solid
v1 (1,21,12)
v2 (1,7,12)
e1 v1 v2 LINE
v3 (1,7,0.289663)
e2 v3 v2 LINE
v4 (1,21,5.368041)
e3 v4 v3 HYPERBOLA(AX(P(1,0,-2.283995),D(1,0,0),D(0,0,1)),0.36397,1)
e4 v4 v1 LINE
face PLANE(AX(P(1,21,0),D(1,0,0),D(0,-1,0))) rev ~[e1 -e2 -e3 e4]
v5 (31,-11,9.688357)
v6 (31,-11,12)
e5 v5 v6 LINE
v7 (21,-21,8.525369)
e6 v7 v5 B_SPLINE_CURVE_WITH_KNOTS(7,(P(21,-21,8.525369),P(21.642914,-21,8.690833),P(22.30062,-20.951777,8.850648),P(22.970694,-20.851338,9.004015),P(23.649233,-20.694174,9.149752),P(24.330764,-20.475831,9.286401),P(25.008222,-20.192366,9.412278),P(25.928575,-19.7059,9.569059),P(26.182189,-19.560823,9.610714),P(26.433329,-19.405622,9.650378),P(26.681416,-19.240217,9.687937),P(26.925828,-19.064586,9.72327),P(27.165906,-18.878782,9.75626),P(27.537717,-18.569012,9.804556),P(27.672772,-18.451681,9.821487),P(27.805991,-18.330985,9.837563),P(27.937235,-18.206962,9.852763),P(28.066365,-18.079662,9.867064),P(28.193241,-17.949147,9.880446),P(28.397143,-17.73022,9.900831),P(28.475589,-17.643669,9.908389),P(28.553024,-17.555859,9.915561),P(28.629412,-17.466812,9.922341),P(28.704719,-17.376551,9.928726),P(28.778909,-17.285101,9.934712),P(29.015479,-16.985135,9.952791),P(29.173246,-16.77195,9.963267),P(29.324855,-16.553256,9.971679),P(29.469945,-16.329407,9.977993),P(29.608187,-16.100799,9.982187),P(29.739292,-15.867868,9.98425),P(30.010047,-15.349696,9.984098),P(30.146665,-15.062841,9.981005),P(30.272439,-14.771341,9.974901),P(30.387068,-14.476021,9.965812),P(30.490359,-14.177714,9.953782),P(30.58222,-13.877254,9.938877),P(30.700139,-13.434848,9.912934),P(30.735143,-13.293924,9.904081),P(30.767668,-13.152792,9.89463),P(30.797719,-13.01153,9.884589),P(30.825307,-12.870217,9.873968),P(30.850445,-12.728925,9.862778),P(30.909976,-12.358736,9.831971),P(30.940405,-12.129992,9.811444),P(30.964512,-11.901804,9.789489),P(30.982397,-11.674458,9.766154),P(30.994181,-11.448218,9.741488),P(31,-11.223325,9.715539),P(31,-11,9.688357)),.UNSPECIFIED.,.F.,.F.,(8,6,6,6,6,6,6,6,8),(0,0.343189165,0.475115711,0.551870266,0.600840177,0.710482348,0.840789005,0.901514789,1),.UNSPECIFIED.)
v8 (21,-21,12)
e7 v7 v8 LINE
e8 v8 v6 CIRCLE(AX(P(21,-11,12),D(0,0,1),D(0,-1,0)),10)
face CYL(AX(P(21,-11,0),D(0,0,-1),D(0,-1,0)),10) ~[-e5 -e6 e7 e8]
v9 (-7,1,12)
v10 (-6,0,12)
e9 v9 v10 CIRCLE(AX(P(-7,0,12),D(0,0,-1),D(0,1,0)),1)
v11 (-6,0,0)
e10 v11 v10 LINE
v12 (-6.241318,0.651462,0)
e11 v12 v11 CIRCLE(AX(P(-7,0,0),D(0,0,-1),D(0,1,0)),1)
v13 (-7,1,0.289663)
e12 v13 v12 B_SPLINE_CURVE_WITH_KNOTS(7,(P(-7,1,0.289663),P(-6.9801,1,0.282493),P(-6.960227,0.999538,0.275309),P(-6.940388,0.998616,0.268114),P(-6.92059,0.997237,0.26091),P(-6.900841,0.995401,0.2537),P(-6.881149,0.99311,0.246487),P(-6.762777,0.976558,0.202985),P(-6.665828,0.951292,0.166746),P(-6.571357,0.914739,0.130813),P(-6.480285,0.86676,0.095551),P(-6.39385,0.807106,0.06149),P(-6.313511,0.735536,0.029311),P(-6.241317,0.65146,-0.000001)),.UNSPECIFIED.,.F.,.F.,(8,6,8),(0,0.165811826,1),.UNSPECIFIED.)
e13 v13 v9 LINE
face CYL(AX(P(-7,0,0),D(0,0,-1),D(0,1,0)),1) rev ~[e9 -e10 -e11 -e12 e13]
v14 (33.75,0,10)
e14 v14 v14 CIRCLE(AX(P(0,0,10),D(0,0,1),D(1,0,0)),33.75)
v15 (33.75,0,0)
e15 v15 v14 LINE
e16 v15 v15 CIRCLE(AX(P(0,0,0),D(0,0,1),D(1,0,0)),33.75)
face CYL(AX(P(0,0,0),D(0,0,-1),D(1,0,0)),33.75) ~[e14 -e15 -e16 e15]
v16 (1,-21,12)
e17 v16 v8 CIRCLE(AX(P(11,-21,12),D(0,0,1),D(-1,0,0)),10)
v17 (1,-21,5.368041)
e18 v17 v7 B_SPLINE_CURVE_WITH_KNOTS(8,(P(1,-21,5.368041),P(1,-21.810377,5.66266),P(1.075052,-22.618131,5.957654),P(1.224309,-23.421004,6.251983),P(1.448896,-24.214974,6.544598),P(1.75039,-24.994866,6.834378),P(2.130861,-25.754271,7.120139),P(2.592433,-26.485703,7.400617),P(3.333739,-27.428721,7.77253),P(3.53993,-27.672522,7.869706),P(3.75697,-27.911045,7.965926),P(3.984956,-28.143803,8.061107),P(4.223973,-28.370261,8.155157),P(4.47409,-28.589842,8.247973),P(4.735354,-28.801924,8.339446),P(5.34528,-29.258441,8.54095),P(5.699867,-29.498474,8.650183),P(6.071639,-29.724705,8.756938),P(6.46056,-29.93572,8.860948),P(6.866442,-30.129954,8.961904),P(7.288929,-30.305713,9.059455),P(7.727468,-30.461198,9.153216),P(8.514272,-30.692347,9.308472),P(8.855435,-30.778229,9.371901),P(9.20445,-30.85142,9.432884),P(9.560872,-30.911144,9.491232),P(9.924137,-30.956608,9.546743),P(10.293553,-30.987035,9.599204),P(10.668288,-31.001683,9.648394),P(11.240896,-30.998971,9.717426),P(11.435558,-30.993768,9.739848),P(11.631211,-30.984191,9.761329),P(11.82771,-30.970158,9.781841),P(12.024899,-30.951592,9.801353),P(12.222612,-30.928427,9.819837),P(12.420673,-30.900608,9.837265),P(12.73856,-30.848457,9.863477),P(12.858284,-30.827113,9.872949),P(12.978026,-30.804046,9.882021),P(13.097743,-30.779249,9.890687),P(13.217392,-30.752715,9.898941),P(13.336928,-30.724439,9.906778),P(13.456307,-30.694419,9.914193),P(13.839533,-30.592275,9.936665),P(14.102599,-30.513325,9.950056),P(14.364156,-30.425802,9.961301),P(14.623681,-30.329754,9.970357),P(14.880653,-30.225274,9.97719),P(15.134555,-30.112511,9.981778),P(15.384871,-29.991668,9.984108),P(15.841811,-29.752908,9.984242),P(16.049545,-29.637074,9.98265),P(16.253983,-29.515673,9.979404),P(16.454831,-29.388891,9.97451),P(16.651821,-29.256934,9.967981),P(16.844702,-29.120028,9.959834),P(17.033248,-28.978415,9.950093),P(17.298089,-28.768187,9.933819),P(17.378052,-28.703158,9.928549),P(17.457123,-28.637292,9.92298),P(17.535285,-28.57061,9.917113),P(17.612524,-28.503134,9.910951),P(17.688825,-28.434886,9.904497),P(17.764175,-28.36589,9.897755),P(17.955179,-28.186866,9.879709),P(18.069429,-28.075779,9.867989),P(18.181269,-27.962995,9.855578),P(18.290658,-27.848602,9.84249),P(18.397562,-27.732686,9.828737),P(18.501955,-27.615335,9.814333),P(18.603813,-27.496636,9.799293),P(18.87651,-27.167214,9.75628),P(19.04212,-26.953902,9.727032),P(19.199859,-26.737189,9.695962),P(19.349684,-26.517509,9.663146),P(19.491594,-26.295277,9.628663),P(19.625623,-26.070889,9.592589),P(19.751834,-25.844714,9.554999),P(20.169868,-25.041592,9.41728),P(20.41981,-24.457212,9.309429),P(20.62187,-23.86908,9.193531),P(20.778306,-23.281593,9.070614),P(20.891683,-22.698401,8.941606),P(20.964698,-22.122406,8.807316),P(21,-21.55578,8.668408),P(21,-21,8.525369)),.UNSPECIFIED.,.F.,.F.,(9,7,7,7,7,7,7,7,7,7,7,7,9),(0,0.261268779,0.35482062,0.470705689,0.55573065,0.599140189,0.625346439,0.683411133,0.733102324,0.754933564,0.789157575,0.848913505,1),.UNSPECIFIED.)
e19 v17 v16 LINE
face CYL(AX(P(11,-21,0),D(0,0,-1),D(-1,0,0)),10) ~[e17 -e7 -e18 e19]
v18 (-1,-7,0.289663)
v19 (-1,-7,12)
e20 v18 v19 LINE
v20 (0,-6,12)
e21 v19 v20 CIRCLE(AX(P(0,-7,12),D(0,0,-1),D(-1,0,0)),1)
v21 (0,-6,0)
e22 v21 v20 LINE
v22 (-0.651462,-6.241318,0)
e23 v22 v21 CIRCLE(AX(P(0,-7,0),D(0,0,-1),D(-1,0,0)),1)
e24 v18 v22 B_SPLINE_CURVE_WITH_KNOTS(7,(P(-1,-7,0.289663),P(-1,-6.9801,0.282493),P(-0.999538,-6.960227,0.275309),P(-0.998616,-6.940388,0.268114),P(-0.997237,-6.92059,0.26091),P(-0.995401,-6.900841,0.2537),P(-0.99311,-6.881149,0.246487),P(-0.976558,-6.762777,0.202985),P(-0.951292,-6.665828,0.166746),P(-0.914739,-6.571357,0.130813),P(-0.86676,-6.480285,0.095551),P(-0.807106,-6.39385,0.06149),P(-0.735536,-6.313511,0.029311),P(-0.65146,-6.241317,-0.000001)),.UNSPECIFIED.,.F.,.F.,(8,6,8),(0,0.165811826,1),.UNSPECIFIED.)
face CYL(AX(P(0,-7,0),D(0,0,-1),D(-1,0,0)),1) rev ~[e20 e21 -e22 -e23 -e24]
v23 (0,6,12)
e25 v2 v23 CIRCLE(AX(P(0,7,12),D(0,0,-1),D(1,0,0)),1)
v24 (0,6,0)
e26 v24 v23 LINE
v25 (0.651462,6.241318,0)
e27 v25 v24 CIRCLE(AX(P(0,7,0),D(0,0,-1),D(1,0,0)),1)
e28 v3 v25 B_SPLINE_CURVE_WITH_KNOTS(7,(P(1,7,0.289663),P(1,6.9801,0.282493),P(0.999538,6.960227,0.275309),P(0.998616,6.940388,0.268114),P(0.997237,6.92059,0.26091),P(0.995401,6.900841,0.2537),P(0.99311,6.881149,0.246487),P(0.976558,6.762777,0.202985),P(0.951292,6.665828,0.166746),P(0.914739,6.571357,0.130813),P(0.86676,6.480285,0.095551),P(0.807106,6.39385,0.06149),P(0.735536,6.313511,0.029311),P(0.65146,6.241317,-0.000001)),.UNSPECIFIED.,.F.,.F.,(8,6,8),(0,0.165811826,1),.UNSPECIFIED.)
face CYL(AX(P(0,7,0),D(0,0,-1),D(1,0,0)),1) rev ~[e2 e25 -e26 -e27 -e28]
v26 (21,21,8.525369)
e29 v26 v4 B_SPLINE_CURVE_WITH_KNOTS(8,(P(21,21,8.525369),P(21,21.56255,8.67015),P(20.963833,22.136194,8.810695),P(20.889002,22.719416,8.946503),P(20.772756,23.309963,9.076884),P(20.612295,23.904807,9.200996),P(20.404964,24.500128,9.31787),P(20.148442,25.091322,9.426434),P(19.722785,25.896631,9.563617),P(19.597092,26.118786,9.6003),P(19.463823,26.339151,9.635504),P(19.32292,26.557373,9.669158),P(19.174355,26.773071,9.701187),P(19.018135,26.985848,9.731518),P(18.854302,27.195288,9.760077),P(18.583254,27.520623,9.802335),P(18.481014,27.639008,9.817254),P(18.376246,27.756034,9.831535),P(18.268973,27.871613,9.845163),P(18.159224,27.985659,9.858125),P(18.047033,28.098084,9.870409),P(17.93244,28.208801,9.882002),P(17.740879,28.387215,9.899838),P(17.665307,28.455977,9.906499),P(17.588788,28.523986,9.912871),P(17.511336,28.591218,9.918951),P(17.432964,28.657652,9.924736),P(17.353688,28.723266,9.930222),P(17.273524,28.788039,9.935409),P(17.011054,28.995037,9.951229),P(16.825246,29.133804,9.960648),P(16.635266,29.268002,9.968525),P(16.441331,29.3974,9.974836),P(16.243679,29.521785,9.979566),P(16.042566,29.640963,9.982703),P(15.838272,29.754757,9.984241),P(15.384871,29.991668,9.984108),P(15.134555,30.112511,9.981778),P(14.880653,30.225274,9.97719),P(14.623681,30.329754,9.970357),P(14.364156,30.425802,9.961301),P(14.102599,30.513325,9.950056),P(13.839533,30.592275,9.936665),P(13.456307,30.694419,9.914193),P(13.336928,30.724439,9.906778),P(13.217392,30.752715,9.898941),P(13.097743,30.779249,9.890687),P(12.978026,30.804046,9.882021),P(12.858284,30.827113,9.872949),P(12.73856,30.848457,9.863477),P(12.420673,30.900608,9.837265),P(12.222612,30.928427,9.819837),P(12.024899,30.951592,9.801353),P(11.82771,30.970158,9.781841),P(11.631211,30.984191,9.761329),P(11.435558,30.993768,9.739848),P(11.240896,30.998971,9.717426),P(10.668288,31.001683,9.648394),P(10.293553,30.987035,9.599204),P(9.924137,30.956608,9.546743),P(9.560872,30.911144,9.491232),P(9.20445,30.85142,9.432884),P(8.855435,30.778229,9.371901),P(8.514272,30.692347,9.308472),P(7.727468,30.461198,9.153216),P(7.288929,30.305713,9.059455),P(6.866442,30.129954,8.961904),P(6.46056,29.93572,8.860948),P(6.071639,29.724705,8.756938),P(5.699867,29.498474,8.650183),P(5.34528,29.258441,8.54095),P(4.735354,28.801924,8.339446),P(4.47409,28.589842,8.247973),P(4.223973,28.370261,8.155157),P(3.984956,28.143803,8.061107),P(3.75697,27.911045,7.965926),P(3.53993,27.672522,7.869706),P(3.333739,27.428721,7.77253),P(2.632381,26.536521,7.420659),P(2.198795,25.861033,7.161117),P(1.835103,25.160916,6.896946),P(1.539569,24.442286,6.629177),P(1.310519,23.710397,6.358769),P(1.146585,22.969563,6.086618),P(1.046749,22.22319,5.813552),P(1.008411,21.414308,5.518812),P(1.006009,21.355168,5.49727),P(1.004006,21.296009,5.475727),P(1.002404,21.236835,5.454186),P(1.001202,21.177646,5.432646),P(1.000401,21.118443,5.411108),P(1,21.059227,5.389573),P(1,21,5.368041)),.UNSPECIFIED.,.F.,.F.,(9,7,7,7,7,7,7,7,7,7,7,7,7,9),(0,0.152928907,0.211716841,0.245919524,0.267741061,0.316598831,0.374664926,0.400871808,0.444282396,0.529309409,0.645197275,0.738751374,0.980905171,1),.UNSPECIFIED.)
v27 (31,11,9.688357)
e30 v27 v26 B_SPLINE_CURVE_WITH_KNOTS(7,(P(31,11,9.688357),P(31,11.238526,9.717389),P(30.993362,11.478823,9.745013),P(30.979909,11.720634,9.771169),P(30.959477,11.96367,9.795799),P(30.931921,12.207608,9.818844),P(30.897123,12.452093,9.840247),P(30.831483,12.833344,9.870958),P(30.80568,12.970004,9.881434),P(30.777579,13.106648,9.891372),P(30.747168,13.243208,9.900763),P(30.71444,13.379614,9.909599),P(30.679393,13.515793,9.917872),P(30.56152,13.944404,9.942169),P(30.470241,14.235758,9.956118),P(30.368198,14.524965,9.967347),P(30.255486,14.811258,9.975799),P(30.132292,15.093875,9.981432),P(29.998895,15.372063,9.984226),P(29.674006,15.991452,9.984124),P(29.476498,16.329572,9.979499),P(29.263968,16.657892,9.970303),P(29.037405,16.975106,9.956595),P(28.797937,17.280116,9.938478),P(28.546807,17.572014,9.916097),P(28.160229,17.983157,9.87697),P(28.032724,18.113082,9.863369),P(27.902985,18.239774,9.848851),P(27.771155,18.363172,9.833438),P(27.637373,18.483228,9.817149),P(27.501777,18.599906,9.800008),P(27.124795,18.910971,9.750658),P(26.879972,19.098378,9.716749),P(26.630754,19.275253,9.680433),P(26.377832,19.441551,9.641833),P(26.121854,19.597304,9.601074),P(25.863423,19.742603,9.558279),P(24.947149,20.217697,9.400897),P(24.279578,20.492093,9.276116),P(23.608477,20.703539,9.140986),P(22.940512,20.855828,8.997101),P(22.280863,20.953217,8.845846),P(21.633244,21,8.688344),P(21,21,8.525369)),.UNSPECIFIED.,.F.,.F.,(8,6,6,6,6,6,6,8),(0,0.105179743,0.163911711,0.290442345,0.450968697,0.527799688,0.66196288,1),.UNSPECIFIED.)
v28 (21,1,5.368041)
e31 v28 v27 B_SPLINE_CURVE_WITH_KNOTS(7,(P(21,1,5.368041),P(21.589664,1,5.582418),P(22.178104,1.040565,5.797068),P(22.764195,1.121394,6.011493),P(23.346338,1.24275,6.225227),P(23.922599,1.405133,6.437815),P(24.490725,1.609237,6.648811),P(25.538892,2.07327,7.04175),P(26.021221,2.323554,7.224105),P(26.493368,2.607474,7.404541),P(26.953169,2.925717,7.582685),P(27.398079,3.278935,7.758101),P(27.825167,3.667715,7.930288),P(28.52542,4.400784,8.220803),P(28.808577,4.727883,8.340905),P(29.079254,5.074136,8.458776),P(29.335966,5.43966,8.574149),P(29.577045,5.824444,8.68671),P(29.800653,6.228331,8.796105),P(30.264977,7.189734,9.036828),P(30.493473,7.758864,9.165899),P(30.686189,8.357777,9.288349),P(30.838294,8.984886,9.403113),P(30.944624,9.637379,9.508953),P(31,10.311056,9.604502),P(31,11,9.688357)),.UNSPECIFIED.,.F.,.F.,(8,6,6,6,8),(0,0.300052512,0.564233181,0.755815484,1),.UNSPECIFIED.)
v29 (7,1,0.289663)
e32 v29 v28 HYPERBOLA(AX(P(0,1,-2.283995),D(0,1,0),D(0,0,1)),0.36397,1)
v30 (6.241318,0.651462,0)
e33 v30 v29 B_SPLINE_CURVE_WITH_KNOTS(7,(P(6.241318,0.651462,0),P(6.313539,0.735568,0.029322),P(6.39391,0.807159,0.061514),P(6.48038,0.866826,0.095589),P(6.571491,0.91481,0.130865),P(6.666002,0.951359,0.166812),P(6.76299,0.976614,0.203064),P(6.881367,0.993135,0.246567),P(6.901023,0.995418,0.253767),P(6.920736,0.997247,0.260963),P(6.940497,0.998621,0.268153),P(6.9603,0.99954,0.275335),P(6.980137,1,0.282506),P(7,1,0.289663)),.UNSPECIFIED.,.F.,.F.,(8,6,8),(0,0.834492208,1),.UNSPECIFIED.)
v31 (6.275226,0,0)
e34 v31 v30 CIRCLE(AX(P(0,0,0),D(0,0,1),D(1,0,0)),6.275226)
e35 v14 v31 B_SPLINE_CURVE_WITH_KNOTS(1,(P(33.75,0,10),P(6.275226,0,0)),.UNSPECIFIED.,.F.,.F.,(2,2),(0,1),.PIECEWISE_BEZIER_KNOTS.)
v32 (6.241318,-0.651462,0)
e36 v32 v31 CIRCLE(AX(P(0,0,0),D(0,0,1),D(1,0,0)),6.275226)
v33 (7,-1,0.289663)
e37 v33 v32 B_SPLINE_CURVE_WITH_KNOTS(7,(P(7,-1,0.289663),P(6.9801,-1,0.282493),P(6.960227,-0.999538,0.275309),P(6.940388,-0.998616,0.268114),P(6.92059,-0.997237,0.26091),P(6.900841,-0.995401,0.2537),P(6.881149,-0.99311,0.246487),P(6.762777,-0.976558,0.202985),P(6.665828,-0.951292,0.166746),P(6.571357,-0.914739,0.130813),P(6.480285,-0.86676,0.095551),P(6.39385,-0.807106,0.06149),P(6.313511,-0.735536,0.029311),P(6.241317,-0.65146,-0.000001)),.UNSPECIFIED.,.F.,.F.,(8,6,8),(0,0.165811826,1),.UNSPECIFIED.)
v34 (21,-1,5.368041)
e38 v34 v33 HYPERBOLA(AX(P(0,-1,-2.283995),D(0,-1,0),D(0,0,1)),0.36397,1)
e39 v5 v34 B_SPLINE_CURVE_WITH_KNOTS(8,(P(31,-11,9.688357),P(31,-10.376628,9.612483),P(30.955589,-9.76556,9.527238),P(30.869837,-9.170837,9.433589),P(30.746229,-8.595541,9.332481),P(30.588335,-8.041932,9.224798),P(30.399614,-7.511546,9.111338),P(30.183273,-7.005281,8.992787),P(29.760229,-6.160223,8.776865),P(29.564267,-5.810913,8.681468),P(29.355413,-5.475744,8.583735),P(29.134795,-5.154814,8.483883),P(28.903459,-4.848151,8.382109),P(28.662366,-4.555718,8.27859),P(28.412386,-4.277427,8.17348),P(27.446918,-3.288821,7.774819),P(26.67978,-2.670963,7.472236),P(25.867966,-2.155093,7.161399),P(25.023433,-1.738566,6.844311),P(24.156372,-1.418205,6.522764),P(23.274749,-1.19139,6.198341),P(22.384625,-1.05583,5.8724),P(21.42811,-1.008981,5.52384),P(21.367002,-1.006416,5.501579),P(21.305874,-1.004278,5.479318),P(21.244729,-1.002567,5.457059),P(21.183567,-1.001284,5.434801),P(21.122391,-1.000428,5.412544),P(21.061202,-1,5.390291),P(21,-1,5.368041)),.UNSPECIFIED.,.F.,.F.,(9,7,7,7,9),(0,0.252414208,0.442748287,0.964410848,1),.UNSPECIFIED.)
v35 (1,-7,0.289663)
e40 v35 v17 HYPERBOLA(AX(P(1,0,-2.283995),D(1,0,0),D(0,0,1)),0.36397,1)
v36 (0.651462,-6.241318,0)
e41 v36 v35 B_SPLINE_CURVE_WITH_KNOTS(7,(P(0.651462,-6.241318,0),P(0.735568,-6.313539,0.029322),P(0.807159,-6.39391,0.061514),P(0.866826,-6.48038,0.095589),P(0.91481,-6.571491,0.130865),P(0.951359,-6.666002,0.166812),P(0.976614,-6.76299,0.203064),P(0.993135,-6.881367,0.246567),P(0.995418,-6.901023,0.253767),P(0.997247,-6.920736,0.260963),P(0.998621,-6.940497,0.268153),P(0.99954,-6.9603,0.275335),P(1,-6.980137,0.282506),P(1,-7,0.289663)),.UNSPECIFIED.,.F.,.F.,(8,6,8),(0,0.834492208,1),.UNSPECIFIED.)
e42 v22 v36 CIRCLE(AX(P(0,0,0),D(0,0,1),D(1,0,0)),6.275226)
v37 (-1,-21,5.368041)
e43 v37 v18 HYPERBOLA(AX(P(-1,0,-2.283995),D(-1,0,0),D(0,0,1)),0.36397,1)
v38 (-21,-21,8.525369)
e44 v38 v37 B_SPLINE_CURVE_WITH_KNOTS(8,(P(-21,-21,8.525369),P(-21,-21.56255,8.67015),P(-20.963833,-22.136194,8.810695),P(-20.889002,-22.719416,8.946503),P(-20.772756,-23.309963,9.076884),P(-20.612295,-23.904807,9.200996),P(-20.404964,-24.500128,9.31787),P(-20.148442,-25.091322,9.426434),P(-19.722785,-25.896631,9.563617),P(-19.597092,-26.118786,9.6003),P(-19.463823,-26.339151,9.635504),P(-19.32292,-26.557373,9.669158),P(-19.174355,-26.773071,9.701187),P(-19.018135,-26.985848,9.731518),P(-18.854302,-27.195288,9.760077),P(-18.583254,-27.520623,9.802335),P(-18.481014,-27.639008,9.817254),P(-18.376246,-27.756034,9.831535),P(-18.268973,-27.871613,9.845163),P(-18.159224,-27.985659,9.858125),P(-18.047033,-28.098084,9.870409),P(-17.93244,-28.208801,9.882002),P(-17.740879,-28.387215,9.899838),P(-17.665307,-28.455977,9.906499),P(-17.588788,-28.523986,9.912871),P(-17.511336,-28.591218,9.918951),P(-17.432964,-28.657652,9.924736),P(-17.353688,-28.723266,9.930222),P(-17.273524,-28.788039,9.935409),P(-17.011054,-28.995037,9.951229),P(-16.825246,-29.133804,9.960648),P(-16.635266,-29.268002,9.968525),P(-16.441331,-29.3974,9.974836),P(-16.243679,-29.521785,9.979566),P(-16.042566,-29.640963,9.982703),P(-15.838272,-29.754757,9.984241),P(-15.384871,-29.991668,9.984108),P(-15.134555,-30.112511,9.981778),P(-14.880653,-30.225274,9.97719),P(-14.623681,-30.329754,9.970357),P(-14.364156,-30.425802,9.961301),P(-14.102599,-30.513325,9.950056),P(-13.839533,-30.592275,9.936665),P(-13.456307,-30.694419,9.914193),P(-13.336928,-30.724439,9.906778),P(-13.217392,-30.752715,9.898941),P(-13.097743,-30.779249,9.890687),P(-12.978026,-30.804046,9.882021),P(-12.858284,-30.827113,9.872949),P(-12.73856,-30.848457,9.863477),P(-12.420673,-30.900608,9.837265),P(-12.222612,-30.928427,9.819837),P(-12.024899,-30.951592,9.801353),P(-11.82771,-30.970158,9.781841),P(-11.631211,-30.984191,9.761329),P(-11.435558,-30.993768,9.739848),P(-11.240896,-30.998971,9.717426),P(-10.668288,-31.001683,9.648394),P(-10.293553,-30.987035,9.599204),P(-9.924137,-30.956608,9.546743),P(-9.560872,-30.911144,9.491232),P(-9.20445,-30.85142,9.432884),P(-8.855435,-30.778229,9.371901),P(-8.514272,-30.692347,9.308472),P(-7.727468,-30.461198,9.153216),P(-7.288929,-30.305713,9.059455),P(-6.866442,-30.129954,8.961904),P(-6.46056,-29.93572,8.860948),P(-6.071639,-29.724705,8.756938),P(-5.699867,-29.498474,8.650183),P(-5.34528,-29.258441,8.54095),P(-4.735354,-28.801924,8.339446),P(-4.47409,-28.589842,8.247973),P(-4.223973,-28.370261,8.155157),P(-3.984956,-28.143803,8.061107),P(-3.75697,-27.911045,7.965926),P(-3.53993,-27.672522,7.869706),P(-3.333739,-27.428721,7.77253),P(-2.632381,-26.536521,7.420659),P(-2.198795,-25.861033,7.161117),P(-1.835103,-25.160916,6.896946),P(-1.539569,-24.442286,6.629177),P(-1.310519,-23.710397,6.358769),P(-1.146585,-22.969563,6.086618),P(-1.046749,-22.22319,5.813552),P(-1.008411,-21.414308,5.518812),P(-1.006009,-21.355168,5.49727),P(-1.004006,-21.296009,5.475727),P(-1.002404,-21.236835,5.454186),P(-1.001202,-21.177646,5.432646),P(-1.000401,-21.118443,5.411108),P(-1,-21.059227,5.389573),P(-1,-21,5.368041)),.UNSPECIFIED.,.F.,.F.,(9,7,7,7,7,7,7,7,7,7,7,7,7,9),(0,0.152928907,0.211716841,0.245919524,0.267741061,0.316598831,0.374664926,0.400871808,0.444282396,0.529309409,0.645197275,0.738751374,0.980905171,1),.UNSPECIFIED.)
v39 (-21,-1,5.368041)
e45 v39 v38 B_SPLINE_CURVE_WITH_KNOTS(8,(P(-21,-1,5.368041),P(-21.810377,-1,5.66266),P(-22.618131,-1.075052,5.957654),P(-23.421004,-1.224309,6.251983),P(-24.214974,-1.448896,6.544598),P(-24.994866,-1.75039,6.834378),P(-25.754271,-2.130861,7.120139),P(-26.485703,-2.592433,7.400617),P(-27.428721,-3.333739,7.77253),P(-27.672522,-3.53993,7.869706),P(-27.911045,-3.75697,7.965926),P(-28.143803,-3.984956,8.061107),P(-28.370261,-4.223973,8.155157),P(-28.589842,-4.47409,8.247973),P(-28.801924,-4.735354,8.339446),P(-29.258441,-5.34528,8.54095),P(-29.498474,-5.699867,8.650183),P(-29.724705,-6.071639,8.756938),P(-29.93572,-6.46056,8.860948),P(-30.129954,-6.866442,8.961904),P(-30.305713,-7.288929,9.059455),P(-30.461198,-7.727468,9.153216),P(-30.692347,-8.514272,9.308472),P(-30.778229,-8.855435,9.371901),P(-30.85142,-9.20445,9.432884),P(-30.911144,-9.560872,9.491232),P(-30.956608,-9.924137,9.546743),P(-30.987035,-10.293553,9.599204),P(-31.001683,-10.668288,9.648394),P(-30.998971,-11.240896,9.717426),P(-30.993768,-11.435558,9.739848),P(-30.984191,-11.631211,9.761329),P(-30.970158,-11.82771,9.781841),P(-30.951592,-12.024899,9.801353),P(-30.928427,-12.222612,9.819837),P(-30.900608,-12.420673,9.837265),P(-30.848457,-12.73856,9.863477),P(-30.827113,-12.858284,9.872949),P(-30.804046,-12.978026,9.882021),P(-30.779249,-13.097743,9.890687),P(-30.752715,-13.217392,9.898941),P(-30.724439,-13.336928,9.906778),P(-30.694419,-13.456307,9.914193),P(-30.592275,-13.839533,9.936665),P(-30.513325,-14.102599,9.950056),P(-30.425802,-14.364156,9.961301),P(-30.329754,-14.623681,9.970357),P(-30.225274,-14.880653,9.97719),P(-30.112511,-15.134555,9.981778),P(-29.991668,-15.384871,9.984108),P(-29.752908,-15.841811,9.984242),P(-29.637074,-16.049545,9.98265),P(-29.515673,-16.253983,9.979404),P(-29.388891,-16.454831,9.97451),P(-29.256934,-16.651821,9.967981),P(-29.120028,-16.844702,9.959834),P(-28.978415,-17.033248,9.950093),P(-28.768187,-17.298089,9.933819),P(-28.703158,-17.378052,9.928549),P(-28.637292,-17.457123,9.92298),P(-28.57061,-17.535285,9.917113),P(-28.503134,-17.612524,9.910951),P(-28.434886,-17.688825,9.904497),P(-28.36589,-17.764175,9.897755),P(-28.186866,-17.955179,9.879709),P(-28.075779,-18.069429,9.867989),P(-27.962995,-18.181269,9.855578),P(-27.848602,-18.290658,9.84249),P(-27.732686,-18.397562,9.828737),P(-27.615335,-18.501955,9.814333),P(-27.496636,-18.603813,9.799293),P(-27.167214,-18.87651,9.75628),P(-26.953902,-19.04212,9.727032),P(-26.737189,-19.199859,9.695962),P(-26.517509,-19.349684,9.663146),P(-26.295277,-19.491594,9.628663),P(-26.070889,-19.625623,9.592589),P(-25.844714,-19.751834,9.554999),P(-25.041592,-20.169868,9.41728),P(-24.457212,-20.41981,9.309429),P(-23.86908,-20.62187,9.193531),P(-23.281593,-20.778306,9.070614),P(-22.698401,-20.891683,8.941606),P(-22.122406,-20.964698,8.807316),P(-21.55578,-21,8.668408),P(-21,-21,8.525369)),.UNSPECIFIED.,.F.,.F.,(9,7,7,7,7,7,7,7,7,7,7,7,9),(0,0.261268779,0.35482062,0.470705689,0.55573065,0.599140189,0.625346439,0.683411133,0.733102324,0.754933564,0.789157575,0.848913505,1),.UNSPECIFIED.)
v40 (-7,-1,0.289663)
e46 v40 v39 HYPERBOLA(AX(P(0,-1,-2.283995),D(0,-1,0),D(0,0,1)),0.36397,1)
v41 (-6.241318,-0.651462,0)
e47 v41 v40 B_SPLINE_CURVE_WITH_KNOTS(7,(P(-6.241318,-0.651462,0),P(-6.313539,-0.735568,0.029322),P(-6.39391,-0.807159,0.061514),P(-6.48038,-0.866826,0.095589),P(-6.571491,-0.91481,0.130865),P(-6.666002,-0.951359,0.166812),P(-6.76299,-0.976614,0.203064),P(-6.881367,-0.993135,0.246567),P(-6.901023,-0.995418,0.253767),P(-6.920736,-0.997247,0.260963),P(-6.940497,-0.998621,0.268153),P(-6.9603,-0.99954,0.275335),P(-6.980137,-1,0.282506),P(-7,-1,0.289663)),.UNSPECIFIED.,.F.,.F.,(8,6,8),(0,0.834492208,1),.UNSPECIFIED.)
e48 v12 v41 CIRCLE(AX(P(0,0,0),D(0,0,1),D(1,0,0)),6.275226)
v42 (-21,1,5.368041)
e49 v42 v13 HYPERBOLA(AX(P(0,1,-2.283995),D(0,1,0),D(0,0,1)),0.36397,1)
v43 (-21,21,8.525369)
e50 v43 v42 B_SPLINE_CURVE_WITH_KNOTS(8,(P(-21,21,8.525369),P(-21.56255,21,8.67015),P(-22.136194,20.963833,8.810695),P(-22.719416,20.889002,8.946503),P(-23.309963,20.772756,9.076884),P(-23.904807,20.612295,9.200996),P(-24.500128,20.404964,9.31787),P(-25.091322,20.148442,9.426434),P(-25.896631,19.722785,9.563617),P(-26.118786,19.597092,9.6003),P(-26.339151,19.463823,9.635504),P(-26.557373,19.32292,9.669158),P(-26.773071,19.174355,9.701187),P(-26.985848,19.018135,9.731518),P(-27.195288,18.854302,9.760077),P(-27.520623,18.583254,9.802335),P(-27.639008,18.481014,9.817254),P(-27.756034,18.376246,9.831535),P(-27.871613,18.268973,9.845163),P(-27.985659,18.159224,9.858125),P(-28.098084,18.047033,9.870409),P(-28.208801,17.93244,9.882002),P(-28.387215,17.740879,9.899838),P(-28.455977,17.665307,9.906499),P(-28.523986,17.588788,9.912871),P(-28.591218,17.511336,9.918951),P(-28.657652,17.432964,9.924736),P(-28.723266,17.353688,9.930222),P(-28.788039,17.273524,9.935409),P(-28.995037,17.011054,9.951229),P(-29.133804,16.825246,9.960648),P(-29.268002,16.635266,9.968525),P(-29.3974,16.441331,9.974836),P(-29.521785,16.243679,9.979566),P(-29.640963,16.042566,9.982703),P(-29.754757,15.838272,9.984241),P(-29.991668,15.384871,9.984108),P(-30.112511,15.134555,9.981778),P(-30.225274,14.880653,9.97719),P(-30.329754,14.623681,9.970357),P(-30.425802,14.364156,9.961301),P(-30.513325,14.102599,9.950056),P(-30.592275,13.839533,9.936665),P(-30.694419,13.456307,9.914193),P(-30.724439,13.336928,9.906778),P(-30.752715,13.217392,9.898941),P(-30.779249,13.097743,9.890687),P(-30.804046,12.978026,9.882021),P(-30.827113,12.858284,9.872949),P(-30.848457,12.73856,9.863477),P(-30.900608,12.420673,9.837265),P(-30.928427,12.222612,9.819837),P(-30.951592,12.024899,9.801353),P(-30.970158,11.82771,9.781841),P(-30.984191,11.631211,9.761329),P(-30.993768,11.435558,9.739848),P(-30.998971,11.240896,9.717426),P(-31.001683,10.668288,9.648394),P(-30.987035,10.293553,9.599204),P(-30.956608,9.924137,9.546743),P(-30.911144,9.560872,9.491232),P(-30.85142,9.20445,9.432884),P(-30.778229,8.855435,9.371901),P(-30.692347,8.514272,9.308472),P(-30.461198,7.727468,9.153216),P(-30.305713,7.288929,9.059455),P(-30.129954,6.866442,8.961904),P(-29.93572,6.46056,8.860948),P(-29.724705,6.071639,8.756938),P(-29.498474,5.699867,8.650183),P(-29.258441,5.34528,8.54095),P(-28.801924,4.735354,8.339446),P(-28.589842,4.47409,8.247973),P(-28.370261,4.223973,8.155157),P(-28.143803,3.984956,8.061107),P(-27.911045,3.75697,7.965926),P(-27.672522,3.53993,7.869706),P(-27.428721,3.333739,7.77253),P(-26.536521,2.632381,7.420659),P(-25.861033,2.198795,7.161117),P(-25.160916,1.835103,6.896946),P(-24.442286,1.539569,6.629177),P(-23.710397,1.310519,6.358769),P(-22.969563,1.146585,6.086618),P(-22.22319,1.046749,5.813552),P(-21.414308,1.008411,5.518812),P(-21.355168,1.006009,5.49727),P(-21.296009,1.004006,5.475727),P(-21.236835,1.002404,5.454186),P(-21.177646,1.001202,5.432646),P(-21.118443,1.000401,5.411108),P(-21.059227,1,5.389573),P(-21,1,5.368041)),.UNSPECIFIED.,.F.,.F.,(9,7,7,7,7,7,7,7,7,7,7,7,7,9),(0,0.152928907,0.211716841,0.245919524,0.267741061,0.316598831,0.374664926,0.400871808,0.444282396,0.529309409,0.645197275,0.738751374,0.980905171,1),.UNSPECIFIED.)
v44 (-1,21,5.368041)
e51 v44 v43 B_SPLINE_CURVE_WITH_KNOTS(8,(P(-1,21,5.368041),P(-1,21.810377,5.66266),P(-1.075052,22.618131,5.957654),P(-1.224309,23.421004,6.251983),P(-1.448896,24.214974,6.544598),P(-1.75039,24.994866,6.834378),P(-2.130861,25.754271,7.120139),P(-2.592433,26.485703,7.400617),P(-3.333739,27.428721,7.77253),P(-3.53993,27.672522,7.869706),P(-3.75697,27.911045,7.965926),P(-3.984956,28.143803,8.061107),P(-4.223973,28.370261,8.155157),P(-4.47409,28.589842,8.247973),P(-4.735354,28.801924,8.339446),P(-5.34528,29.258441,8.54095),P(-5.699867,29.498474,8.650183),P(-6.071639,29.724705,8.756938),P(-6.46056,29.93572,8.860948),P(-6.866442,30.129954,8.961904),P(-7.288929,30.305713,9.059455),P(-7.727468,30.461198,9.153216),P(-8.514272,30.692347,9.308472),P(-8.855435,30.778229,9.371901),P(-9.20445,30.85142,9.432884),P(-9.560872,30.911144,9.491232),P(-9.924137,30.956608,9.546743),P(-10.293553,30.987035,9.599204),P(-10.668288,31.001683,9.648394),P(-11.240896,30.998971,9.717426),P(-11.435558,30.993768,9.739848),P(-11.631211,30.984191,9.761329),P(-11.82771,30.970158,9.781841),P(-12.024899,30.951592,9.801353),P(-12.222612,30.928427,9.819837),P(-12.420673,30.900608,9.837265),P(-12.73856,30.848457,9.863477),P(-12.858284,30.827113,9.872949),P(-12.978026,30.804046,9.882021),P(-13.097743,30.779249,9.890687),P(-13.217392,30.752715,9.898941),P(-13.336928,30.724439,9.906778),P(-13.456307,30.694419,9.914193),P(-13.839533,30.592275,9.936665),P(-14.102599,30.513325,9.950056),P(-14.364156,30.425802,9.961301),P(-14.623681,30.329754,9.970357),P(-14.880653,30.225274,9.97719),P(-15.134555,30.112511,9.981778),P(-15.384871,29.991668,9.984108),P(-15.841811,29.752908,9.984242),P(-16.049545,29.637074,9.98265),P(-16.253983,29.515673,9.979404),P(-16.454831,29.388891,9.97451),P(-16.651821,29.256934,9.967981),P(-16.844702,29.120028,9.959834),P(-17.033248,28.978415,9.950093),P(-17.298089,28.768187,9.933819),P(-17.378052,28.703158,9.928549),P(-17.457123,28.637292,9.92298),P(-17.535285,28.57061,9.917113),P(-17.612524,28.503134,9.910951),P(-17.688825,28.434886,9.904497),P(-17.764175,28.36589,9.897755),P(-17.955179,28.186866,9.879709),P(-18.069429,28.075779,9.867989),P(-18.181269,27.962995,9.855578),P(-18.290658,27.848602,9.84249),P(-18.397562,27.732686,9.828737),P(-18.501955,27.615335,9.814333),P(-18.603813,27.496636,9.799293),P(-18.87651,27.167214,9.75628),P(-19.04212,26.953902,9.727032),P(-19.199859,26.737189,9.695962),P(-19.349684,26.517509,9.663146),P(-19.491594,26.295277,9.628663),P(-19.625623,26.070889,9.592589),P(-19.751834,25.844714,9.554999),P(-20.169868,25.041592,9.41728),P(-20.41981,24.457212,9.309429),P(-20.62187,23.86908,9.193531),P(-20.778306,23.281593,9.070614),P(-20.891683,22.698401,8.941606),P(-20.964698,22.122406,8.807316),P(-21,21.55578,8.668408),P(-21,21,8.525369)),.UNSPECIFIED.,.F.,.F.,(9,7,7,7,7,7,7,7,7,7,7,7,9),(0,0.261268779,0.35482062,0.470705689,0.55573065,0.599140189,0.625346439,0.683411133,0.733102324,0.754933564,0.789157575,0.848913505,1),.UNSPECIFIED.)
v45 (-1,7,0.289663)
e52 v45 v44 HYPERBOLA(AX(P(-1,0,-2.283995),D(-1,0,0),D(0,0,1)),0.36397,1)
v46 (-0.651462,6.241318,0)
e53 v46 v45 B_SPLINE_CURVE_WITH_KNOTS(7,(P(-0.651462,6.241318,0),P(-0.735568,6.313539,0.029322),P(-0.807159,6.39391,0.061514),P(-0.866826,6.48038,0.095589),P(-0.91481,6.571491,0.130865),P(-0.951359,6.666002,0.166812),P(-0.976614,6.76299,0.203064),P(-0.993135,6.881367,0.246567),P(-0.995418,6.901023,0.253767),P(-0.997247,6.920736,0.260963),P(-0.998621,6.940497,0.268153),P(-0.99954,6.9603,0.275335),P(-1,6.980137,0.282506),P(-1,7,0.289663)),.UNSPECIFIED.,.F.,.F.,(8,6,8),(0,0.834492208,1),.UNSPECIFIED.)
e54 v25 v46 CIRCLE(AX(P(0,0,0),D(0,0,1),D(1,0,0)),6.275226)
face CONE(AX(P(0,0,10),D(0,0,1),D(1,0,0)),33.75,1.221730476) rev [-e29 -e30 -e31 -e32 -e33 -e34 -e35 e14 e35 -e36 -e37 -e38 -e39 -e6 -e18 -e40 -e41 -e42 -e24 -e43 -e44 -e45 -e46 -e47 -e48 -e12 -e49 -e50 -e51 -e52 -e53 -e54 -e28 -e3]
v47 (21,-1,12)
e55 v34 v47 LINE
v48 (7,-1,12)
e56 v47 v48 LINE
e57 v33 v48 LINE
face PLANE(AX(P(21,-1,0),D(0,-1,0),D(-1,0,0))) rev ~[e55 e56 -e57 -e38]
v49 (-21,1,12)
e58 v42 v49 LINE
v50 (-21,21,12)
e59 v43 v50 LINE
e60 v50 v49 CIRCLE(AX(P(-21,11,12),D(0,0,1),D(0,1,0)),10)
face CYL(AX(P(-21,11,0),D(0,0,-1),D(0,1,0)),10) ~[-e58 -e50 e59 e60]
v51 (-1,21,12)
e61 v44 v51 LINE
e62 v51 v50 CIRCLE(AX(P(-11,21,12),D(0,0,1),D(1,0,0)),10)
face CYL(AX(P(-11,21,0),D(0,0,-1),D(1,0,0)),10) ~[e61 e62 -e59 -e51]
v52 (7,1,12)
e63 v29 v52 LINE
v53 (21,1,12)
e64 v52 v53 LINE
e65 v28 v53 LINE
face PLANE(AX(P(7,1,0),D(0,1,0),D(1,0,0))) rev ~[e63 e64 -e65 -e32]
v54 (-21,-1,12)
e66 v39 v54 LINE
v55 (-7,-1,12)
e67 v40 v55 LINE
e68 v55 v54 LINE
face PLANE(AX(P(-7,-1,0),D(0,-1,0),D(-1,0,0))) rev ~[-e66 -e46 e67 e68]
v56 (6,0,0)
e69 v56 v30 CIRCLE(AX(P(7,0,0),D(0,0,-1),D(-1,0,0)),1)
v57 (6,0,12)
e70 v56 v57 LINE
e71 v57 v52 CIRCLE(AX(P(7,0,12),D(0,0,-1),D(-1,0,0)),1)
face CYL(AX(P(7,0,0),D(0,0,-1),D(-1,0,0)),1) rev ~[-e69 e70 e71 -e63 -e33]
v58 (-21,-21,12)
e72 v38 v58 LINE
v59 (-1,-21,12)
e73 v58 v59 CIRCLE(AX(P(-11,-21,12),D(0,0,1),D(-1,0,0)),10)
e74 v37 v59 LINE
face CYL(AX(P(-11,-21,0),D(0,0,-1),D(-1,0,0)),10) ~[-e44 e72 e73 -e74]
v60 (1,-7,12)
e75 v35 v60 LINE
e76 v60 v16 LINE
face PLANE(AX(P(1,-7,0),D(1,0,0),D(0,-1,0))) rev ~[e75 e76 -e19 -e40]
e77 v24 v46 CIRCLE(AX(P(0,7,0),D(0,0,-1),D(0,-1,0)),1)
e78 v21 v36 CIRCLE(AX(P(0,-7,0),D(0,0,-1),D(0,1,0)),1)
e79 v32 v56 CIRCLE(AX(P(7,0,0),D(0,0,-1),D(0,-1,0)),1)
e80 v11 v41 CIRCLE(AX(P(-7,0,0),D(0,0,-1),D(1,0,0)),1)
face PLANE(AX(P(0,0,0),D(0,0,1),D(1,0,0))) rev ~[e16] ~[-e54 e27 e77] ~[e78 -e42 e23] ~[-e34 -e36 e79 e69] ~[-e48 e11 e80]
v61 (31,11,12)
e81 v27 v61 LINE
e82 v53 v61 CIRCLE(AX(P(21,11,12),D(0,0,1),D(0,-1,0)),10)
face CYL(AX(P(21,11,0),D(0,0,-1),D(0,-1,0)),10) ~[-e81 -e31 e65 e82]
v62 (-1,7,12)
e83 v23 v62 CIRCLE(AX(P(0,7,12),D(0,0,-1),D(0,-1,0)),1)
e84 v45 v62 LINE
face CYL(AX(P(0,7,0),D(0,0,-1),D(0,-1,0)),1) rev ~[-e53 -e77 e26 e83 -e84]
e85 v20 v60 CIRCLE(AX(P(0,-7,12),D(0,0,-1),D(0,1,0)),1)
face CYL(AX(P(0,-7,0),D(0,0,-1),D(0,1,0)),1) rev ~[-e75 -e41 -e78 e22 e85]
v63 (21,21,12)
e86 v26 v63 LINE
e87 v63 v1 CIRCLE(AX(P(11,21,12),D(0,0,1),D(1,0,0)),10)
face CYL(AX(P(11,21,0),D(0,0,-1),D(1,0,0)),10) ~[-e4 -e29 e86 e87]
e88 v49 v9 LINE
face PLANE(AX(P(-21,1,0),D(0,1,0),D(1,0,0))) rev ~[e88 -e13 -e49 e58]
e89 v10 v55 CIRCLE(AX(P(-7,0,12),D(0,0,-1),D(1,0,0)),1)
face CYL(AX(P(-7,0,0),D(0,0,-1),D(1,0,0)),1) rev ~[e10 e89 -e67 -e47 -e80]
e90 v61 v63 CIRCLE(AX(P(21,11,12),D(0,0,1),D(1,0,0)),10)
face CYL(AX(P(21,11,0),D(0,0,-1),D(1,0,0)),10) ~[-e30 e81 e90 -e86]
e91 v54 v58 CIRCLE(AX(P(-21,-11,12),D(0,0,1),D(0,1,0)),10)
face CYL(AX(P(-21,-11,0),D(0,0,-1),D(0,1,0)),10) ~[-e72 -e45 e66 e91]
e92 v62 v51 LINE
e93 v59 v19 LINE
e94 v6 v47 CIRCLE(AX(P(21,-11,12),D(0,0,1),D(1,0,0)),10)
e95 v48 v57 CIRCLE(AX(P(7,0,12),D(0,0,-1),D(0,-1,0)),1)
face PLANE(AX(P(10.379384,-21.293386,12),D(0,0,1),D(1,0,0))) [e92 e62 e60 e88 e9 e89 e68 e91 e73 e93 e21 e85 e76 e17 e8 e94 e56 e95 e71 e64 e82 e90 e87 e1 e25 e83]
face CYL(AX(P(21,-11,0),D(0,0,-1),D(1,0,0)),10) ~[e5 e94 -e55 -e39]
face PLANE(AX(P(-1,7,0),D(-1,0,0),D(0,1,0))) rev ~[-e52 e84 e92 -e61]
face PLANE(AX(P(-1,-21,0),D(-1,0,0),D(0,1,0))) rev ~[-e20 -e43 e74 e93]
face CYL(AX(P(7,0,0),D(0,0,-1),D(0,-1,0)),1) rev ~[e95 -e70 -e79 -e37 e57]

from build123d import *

# Parameters (mm, degrees)
F0_R     = 33.75
F1_DEPTH = 10
F2_R     = 33.75
F3_DEPTH = 10
F3_TAPER = 70
F4_DEPTH = 12


with BuildPart() as f1:
    # F0 (on Top) → F1 (new body)
    with BuildSketch(Plane.XY):
        Circle(F0_R)
        with BuildLine():
            Line((-21, 0), (-21, 1))
            ThreePointArc((-21, 1), (-31, 11), (-21, 21))
            ThreePointArc((-21, 21), (-11, 31), (-1, 21))
            Line((-1, 21), (0, 21))
            Line((0, 21), (1, 21))
            ThreePointArc((1, 21), (11, 31), (21, 21))
            ThreePointArc((21, 21), (28.0710678119, 18.0710678119), (31, 11))
            ThreePointArc((31, 11), (28.0710678119, 3.9289321881), (21, 1))
            Line((21, 1), (21, 0))
            Line((21, 0), (21, -1))
            ThreePointArc((21, -1), (28.0710678119, -3.9289321881), (31, -11))
            ThreePointArc((31, -11), (28.0710678119, -18.0710678119), (21, -21))
            ThreePointArc((21, -21), (11, -31), (1, -21))
            Line((1, -21), (0, -21))
            Line((0, -21), (-1, -21))
            ThreePointArc((-1, -21), (-11, -31), (-21, -21))
            ThreePointArc((-21, -21), (-31, -11), (-21, -1))
            Line((-21, -1), (-21, 0))
        make_face(mode=Mode.SUBTRACT)
        with BuildLine():
            ThreePointArc((-21, 21), (-31, 11), (-21, 1))
            ThreePointArc((-21, 1), (-13.9289321881, 3.9289321881), (-11, 11))
            ThreePointArc((-11, 11), (-18.0710678119, 13.9289321881), (-21, 21))
        make_face()
        with BuildLine():
            ThreePointArc((-11, 11), (-3.9289321881, 13.9289321881), (-1, 21))
            ThreePointArc((-1, 21), (-11, 31), (-21, 21))
            ThreePointArc((-21, 21), (-13.9289321881, 18.0710678119), (-11, 11))
        make_face()
        with BuildLine():
            ThreePointArc((21, 21), (11, 31), (1, 21))
            ThreePointArc((1, 21), (3.9289321881, 13.9289321881), (11, 11))
            ThreePointArc((11, 11), (13.9289321881, 18.0710678119), (21, 21))
        make_face()
        with BuildLine():
            ThreePointArc((11, 11), (13.9289321881, 3.9289321881), (21, 1))
            ThreePointArc((21, 1), (28.0710678119, 3.9289321881), (31, 11))
            ThreePointArc((31, 11), (28.0710678119, 18.0710678119), (21, 21))
            ThreePointArc((21, 21), (18.0710678119, 13.9289321881), (11, 11))
        make_face()
        with BuildLine():
            ThreePointArc((31, -11), (28.0710678119, -3.9289321881), (21, -1))
            ThreePointArc((21, -1), (13.9289321881, -3.9289321881), (11, -11))
            ThreePointArc((11, -11), (18.0710678119, -13.9289321881), (21, -21))
            ThreePointArc((21, -21), (28.0710678119, -18.0710678119), (31, -11))
        make_face()
        with BuildLine():
            ThreePointArc((11, -11), (3.9289321881, -13.9289321881), (1, -21))
            ThreePointArc((1, -21), (11, -31), (21, -21))
            ThreePointArc((21, -21), (13.9289321881, -18.0710678119), (11, -11))
        make_face()
        with BuildLine():
            ThreePointArc((-21, -21), (-11, -31), (-1, -21))
            ThreePointArc((-1, -21), (-3.9289321881, -13.9289321881), (-11, -11))
            ThreePointArc((-11, -11), (-13.9289321881, -18.0710678119), (-21, -21))
        make_face()
        with BuildLine():
            ThreePointArc((-11, -11), (-13.9289321881, -3.9289321881), (-21, -1))
            ThreePointArc((-21, -1), (-31, -11), (-21, -21))
            ThreePointArc((-21, -21), (-18.0710678119, -13.9289321881), (-11, -11))
        make_face()
        with BuildLine():
            Line((0, -6), (0, 0))
            Line((0, 0), (-6, 0))
            ThreePointArc((-6, 0), (-6.2928932188, -0.7071067812), (-7, -1))
            Line((-7, -1), (-21, -1))
            ThreePointArc((-21, -1), (-13.9289321881, -3.9289321881), (-11, -11))
            ThreePointArc((-11, -11), (-3.9289321881, -13.9289321881), (-1, -21))
            Line((-1, -21), (-1, -7))
            ThreePointArc((-1, -7), (-0.7071067812, -6.2928932188), (0, -6))
        make_face()
        with BuildLine():
            Line((6, 0), (0, 0))
            Line((0, 0), (0, -6))
            ThreePointArc((0, -6), (0.7071067812, -6.2928932188), (1, -7))
            Line((1, -7), (1, -21))
            ThreePointArc((1, -21), (3.9289321881, -13.9289321881), (11, -11))
            ThreePointArc((11, -11), (13.9289321881, -3.9289321881), (21, -1))
            Line((21, -1), (7, -1))
            ThreePointArc((7, -1), (6.2928932188, -0.7071067812), (6, 0))
        make_face()
        with BuildLine():
            Line((0, 6), (0, 0))
            Line((0, 0), (6, 0))
            ThreePointArc((6, 0), (6.2928932188, 0.7071067812), (7, 1))
            Line((7, 1), (21, 1))
            ThreePointArc((21, 1), (13.9289321881, 3.9289321881), (11, 11))
            ThreePointArc((11, 11), (3.9289321881, 13.9289321881), (1, 21))
            Line((1, 21), (1, 7))
            ThreePointArc((1, 7), (0.7071067812, 6.2928932188), (0, 6))
        make_face()
        with BuildLine():
            Line((-6, 0), (0, 0))
            Line((0, 0), (0, 6))
            ThreePointArc((0, 6), (-0.7071067812, 6.2928932188), (-1, 7))
            Line((-1, 7), (-1, 21))
            ThreePointArc((-1, 21), (-3.9289321881, 13.9289321881), (-11, 11))
            ThreePointArc((-11, 11), (-13.9289321881, 3.9289321881), (-21, 1))
            Line((-21, 1), (-7, 1))
            ThreePointArc((-7, 1), (-6.2928932188, 0.7071067812), (-6, 0))
        make_face()
        with BuildLine():
            ThreePointArc((-21, 21), (-18.0710678119, 13.9289321881), (-11, 11))
            ThreePointArc((-11, 11), (-13.9289321881, 18.0710678119), (-21, 21))
        make_face()
        with BuildLine():
            ThreePointArc((21, 21), (13.9289321881, 18.0710678119), (11, 11))
            ThreePointArc((11, 11), (18.0710678119, 13.9289321881), (21, 21))
        make_face()
        with BuildLine():
            ThreePointArc((21, -21), (18.0710678119, -13.9289321881), (11, -11))
            ThreePointArc((11, -11), (13.9289321881, -18.0710678119), (21, -21))
        make_face()
        with BuildLine():
            ThreePointArc((-21, -21), (-13.9289321881, -18.0710678119), (-11, -11))
            ThreePointArc((-11, -11), (-18.0710678119, -13.9289321881), (-21, -21))
        make_face()
        with BuildLine():
            ThreePointArc((0, 8), (0.7071067812, 7.7071067812), (1, 7))
            Line((1, 7), (1, 21))
            Line((1, 21), (0, 21))
            Line((0, 21), (0, 8))
        make_face()
        with BuildLine():
            Line((-1, 21), (-1, 7))
            ThreePointArc((-1, 7), (-0.7071067812, 7.7071067812), (0, 8))
            Line((0, 8), (0, 21))
            Line((0, 21), (-1, 21))
        make_face()
        with BuildLine():
            Line((-21, -1), (-7, -1))
            ThreePointArc((-7, -1), (-7.7071067812, -0.7071067812), (-8, 0))
            Line((-8, 0), (-21, 0))
            Line((-21, 0), (-21, -1))
        make_face()
        with BuildLine():
            ThreePointArc((-8, 0), (-7.7071067812, 0.7071067812), (-7, 1))
            Line((-7, 1), (-21, 1))
            Line((-21, 1), (-21, 0))
            Line((-21, 0), (-8, 0))
        make_face()
        with BuildLine():
            Line((21, 1), (7, 1))
            ThreePointArc((7, 1), (7.7071067812, 0.7071067812), (8, 0))
            Line((8, 0), (21, 0))
            Line((21, 0), (21, 1))
        make_face()
        with BuildLine():
            ThreePointArc((8, 0), (7.7071067812, -0.7071067812), (7, -1))
            Line((7, -1), (21, -1))
            Line((21, -1), (21, 0))
            Line((21, 0), (8, 0))
        make_face()
        with BuildLine():
            Line((1, -21), (1, -7))
            ThreePointArc((1, -7), (0.7071067812, -7.7071067812), (0, -8))
            Line((0, -8), (0, -21))
            Line((0, -21), (1, -21))
        make_face()
        with BuildLine():
            ThreePointArc((0, -8), (-0.7071067812, -7.7071067812), (-1, -7))
            Line((-1, -7), (-1, -21))
            Line((-1, -21), (0, -21))
            Line((0, -21), (0, -8))
        make_face()
        with BuildLine():
            ThreePointArc((-1, 7), (-0.7071067812, 6.2928932188), (0, 6))
            Line((0, 6), (0, 7))
            Line((0, 7), (0, 8))
            ThreePointArc((0, 8), (-0.7071067812, 7.7071067812), (-1, 7))
        make_face()
        with BuildLine():
            Line((0, 7), (0, 6))
            ThreePointArc((0, 6), (0.7071067812, 6.2928932188), (1, 7))
            ThreePointArc((1, 7), (0.7071067812, 7.7071067812), (0, 8))
            Line((0, 8), (0, 7))
        make_face()
        with BuildLine():
            Line((-7, 0), (-6, 0))
            ThreePointArc((-6, 0), (-6.2928932188, 0.7071067812), (-7, 1))
            ThreePointArc((-7, 1), (-7.7071067812, 0.7071067812), (-8, 0))
            Line((-8, 0), (-7, 0))
        make_face()
        with BuildLine():
            ThreePointArc((-7, -1), (-6.2928932188, -0.7071067812), (-6, 0))
            Line((-6, 0), (-7, 0))
            Line((-7, 0), (-8, 0))
            ThreePointArc((-8, 0), (-7.7071067812, -0.7071067812), (-7, -1))
        make_face()
        with BuildLine():
            Line((7, 0), (6, 0))
            ThreePointArc((6, 0), (6.2928932188, -0.7071067812), (7, -1))
            ThreePointArc((7, -1), (7.7071067812, -0.7071067812), (8, 0))
            Line((8, 0), (7, 0))
        make_face()
        with BuildLine():
            ThreePointArc((7, 1), (6.2928932188, 0.7071067812), (6, 0))
            Line((6, 0), (7, 0))
            Line((7, 0), (8, 0))
            ThreePointArc((8, 0), (7.7071067812, 0.7071067812), (7, 1))
        make_face()
        with BuildLine():
            Line((0, -7), (0, -6))
            ThreePointArc((0, -6), (-0.7071067812, -6.2928932188), (-1, -7))
            ThreePointArc((-1, -7), (-0.7071067812, -7.7071067812), (0, -8))
            Line((0, -8), (0, -7))
        make_face()
        with BuildLine():
            ThreePointArc((1, -7), (0.7071067812, -6.2928932188), (0, -6))
            Line((0, -6), (0, -7))
            Line((0, -7), (0, -8))
            ThreePointArc((0, -8), (0.7071067812, -7.7071067812), (1, -7))
        make_face()
    extrude(amount=F1_DEPTH)

    # F2 (on face) → F3 (cut)
    with BuildSketch(Plane.XY.offset(10)):
        Circle(F2_R)
    extrude(amount=-F3_DEPTH, taper=F3_TAPER, mode=Mode.SUBTRACT)

    # F0 (on Top) → F4 (join)
    with BuildSketch(Plane.XY):
        with BuildLine():
            ThreePointArc((11, -11), (3.9289321881, -13.9289321881), (1, -21))
            ThreePointArc((1, -21), (11, -31), (21, -21))
            ThreePointArc((21, -21), (13.9289321881, -18.0710678119), (11, -11))
        make_face()
        with BuildLine():
            ThreePointArc((21, -21), (18.0710678119, -13.9289321881), (11, -11))
            ThreePointArc((11, -11), (13.9289321881, -18.0710678119), (21, -21))
        make_face()
        with BuildLine():
            ThreePointArc((31, -11), (28.0710678119, -3.9289321881), (21, -1))
            ThreePointArc((21, -1), (13.9289321881, -3.9289321881), (11, -11))
            ThreePointArc((11, -11), (18.0710678119, -13.9289321881), (21, -21))
            ThreePointArc((21, -21), (28.0710678119, -18.0710678119), (31, -11))
        make_face()
        with BuildLine():
            ThreePointArc((11, 11), (13.9289321881, 3.9289321881), (21, 1))
            ThreePointArc((21, 1), (28.0710678119, 3.9289321881), (31, 11))
            ThreePointArc((31, 11), (28.0710678119, 18.0710678119), (21, 21))
            ThreePointArc((21, 21), (18.0710678119, 13.9289321881), (11, 11))
        make_face()
        with BuildLine():
            ThreePointArc((21, 21), (13.9289321881, 18.0710678119), (11, 11))
            ThreePointArc((11, 11), (18.0710678119, 13.9289321881), (21, 21))
        make_face()
        with BuildLine():
            ThreePointArc((21, 21), (11, 31), (1, 21))
            ThreePointArc((1, 21), (3.9289321881, 13.9289321881), (11, 11))
            ThreePointArc((11, 11), (13.9289321881, 18.0710678119), (21, 21))
        make_face()
        with BuildLine():
            ThreePointArc((-11, 11), (-3.9289321881, 13.9289321881), (-1, 21))
            ThreePointArc((-1, 21), (-11, 31), (-21, 21))
            ThreePointArc((-21, 21), (-13.9289321881, 18.0710678119), (-11, 11))
        make_face()
        with BuildLine():
            ThreePointArc((-21, 21), (-18.0710678119, 13.9289321881), (-11, 11))
            ThreePointArc((-11, 11), (-13.9289321881, 18.0710678119), (-21, 21))
        make_face()
        with BuildLine():
            ThreePointArc((-21, 21), (-31, 11), (-21, 1))
            ThreePointArc((-21, 1), (-13.9289321881, 3.9289321881), (-11, 11))
            ThreePointArc((-11, 11), (-18.0710678119, 13.9289321881), (-21, 21))
        make_face()
        with BuildLine():
            ThreePointArc((-11, -11), (-13.9289321881, -3.9289321881), (-21, -1))
            ThreePointArc((-21, -1), (-31, -11), (-21, -21))
            ThreePointArc((-21, -21), (-18.0710678119, -13.9289321881), (-11, -11))
        make_face()
        with BuildLine():
            ThreePointArc((-21, -21), (-11, -31), (-1, -21))
            ThreePointArc((-1, -21), (-3.9289321881, -13.9289321881), (-11, -11))
            ThreePointArc((-11, -11), (-13.9289321881, -18.0710678119), (-21, -21))
        make_face()
        with BuildLine():
            ThreePointArc((-21, -21), (-13.9289321881, -18.0710678119), (-11, -11))
            ThreePointArc((-11, -11), (-18.0710678119, -13.9289321881), (-21, -21))
        make_face()
        with BuildLine():
            Line((0, -6), (0, 0))
            Line((0, 0), (-6, 0))
            ThreePointArc((-6, 0), (-6.2928932188, -0.7071067812), (-7, -1))
            Line((-7, -1), (-21, -1))
            ThreePointArc((-21, -1), (-13.9289321881, -3.9289321881), (-11, -11))
            ThreePointArc((-11, -11), (-3.9289321881, -13.9289321881), (-1, -21))
            Line((-1, -21), (-1, -7))
            ThreePointArc((-1, -7), (-0.7071067812, -6.2928932188), (0, -6))
        make_face()
        with BuildLine():
            Line((6, 0), (0, 0))
            Line((0, 0), (0, -6))
            ThreePointArc((0, -6), (0.7071067812, -6.2928932188), (1, -7))
            Line((1, -7), (1, -21))
            ThreePointArc((1, -21), (3.9289321881, -13.9289321881), (11, -11))
            ThreePointArc((11, -11), (13.9289321881, -3.9289321881), (21, -1))
            Line((21, -1), (7, -1))
            ThreePointArc((7, -1), (6.2928932188, -0.7071067812), (6, 0))
        make_face()
        with BuildLine():
            Line((0, 6), (0, 0))
            Line((0, 0), (6, 0))
            ThreePointArc((6, 0), (6.2928932188, 0.7071067812), (7, 1))
            Line((7, 1), (21, 1))
            ThreePointArc((21, 1), (13.9289321881, 3.9289321881), (11, 11))
            ThreePointArc((11, 11), (3.9289321881, 13.9289321881), (1, 21))
            Line((1, 21), (1, 7))
            ThreePointArc((1, 7), (0.7071067812, 6.2928932188), (0, 6))
        make_face()
        with BuildLine():
            Line((-6, 0), (0, 0))
            Line((0, 0), (0, 6))
            ThreePointArc((0, 6), (-0.7071067812, 6.2928932188), (-1, 7))
            Line((-1, 7), (-1, 21))
            ThreePointArc((-1, 21), (-3.9289321881, 13.9289321881), (-11, 11))
            ThreePointArc((-11, 11), (-13.9289321881, 3.9289321881), (-21, 1))
            Line((-21, 1), (-7, 1))
            ThreePointArc((-7, 1), (-6.2928932188, 0.7071067812), (-6, 0))
        make_face()
    extrude(amount=F4_DEPTH)


solid = f1.part
